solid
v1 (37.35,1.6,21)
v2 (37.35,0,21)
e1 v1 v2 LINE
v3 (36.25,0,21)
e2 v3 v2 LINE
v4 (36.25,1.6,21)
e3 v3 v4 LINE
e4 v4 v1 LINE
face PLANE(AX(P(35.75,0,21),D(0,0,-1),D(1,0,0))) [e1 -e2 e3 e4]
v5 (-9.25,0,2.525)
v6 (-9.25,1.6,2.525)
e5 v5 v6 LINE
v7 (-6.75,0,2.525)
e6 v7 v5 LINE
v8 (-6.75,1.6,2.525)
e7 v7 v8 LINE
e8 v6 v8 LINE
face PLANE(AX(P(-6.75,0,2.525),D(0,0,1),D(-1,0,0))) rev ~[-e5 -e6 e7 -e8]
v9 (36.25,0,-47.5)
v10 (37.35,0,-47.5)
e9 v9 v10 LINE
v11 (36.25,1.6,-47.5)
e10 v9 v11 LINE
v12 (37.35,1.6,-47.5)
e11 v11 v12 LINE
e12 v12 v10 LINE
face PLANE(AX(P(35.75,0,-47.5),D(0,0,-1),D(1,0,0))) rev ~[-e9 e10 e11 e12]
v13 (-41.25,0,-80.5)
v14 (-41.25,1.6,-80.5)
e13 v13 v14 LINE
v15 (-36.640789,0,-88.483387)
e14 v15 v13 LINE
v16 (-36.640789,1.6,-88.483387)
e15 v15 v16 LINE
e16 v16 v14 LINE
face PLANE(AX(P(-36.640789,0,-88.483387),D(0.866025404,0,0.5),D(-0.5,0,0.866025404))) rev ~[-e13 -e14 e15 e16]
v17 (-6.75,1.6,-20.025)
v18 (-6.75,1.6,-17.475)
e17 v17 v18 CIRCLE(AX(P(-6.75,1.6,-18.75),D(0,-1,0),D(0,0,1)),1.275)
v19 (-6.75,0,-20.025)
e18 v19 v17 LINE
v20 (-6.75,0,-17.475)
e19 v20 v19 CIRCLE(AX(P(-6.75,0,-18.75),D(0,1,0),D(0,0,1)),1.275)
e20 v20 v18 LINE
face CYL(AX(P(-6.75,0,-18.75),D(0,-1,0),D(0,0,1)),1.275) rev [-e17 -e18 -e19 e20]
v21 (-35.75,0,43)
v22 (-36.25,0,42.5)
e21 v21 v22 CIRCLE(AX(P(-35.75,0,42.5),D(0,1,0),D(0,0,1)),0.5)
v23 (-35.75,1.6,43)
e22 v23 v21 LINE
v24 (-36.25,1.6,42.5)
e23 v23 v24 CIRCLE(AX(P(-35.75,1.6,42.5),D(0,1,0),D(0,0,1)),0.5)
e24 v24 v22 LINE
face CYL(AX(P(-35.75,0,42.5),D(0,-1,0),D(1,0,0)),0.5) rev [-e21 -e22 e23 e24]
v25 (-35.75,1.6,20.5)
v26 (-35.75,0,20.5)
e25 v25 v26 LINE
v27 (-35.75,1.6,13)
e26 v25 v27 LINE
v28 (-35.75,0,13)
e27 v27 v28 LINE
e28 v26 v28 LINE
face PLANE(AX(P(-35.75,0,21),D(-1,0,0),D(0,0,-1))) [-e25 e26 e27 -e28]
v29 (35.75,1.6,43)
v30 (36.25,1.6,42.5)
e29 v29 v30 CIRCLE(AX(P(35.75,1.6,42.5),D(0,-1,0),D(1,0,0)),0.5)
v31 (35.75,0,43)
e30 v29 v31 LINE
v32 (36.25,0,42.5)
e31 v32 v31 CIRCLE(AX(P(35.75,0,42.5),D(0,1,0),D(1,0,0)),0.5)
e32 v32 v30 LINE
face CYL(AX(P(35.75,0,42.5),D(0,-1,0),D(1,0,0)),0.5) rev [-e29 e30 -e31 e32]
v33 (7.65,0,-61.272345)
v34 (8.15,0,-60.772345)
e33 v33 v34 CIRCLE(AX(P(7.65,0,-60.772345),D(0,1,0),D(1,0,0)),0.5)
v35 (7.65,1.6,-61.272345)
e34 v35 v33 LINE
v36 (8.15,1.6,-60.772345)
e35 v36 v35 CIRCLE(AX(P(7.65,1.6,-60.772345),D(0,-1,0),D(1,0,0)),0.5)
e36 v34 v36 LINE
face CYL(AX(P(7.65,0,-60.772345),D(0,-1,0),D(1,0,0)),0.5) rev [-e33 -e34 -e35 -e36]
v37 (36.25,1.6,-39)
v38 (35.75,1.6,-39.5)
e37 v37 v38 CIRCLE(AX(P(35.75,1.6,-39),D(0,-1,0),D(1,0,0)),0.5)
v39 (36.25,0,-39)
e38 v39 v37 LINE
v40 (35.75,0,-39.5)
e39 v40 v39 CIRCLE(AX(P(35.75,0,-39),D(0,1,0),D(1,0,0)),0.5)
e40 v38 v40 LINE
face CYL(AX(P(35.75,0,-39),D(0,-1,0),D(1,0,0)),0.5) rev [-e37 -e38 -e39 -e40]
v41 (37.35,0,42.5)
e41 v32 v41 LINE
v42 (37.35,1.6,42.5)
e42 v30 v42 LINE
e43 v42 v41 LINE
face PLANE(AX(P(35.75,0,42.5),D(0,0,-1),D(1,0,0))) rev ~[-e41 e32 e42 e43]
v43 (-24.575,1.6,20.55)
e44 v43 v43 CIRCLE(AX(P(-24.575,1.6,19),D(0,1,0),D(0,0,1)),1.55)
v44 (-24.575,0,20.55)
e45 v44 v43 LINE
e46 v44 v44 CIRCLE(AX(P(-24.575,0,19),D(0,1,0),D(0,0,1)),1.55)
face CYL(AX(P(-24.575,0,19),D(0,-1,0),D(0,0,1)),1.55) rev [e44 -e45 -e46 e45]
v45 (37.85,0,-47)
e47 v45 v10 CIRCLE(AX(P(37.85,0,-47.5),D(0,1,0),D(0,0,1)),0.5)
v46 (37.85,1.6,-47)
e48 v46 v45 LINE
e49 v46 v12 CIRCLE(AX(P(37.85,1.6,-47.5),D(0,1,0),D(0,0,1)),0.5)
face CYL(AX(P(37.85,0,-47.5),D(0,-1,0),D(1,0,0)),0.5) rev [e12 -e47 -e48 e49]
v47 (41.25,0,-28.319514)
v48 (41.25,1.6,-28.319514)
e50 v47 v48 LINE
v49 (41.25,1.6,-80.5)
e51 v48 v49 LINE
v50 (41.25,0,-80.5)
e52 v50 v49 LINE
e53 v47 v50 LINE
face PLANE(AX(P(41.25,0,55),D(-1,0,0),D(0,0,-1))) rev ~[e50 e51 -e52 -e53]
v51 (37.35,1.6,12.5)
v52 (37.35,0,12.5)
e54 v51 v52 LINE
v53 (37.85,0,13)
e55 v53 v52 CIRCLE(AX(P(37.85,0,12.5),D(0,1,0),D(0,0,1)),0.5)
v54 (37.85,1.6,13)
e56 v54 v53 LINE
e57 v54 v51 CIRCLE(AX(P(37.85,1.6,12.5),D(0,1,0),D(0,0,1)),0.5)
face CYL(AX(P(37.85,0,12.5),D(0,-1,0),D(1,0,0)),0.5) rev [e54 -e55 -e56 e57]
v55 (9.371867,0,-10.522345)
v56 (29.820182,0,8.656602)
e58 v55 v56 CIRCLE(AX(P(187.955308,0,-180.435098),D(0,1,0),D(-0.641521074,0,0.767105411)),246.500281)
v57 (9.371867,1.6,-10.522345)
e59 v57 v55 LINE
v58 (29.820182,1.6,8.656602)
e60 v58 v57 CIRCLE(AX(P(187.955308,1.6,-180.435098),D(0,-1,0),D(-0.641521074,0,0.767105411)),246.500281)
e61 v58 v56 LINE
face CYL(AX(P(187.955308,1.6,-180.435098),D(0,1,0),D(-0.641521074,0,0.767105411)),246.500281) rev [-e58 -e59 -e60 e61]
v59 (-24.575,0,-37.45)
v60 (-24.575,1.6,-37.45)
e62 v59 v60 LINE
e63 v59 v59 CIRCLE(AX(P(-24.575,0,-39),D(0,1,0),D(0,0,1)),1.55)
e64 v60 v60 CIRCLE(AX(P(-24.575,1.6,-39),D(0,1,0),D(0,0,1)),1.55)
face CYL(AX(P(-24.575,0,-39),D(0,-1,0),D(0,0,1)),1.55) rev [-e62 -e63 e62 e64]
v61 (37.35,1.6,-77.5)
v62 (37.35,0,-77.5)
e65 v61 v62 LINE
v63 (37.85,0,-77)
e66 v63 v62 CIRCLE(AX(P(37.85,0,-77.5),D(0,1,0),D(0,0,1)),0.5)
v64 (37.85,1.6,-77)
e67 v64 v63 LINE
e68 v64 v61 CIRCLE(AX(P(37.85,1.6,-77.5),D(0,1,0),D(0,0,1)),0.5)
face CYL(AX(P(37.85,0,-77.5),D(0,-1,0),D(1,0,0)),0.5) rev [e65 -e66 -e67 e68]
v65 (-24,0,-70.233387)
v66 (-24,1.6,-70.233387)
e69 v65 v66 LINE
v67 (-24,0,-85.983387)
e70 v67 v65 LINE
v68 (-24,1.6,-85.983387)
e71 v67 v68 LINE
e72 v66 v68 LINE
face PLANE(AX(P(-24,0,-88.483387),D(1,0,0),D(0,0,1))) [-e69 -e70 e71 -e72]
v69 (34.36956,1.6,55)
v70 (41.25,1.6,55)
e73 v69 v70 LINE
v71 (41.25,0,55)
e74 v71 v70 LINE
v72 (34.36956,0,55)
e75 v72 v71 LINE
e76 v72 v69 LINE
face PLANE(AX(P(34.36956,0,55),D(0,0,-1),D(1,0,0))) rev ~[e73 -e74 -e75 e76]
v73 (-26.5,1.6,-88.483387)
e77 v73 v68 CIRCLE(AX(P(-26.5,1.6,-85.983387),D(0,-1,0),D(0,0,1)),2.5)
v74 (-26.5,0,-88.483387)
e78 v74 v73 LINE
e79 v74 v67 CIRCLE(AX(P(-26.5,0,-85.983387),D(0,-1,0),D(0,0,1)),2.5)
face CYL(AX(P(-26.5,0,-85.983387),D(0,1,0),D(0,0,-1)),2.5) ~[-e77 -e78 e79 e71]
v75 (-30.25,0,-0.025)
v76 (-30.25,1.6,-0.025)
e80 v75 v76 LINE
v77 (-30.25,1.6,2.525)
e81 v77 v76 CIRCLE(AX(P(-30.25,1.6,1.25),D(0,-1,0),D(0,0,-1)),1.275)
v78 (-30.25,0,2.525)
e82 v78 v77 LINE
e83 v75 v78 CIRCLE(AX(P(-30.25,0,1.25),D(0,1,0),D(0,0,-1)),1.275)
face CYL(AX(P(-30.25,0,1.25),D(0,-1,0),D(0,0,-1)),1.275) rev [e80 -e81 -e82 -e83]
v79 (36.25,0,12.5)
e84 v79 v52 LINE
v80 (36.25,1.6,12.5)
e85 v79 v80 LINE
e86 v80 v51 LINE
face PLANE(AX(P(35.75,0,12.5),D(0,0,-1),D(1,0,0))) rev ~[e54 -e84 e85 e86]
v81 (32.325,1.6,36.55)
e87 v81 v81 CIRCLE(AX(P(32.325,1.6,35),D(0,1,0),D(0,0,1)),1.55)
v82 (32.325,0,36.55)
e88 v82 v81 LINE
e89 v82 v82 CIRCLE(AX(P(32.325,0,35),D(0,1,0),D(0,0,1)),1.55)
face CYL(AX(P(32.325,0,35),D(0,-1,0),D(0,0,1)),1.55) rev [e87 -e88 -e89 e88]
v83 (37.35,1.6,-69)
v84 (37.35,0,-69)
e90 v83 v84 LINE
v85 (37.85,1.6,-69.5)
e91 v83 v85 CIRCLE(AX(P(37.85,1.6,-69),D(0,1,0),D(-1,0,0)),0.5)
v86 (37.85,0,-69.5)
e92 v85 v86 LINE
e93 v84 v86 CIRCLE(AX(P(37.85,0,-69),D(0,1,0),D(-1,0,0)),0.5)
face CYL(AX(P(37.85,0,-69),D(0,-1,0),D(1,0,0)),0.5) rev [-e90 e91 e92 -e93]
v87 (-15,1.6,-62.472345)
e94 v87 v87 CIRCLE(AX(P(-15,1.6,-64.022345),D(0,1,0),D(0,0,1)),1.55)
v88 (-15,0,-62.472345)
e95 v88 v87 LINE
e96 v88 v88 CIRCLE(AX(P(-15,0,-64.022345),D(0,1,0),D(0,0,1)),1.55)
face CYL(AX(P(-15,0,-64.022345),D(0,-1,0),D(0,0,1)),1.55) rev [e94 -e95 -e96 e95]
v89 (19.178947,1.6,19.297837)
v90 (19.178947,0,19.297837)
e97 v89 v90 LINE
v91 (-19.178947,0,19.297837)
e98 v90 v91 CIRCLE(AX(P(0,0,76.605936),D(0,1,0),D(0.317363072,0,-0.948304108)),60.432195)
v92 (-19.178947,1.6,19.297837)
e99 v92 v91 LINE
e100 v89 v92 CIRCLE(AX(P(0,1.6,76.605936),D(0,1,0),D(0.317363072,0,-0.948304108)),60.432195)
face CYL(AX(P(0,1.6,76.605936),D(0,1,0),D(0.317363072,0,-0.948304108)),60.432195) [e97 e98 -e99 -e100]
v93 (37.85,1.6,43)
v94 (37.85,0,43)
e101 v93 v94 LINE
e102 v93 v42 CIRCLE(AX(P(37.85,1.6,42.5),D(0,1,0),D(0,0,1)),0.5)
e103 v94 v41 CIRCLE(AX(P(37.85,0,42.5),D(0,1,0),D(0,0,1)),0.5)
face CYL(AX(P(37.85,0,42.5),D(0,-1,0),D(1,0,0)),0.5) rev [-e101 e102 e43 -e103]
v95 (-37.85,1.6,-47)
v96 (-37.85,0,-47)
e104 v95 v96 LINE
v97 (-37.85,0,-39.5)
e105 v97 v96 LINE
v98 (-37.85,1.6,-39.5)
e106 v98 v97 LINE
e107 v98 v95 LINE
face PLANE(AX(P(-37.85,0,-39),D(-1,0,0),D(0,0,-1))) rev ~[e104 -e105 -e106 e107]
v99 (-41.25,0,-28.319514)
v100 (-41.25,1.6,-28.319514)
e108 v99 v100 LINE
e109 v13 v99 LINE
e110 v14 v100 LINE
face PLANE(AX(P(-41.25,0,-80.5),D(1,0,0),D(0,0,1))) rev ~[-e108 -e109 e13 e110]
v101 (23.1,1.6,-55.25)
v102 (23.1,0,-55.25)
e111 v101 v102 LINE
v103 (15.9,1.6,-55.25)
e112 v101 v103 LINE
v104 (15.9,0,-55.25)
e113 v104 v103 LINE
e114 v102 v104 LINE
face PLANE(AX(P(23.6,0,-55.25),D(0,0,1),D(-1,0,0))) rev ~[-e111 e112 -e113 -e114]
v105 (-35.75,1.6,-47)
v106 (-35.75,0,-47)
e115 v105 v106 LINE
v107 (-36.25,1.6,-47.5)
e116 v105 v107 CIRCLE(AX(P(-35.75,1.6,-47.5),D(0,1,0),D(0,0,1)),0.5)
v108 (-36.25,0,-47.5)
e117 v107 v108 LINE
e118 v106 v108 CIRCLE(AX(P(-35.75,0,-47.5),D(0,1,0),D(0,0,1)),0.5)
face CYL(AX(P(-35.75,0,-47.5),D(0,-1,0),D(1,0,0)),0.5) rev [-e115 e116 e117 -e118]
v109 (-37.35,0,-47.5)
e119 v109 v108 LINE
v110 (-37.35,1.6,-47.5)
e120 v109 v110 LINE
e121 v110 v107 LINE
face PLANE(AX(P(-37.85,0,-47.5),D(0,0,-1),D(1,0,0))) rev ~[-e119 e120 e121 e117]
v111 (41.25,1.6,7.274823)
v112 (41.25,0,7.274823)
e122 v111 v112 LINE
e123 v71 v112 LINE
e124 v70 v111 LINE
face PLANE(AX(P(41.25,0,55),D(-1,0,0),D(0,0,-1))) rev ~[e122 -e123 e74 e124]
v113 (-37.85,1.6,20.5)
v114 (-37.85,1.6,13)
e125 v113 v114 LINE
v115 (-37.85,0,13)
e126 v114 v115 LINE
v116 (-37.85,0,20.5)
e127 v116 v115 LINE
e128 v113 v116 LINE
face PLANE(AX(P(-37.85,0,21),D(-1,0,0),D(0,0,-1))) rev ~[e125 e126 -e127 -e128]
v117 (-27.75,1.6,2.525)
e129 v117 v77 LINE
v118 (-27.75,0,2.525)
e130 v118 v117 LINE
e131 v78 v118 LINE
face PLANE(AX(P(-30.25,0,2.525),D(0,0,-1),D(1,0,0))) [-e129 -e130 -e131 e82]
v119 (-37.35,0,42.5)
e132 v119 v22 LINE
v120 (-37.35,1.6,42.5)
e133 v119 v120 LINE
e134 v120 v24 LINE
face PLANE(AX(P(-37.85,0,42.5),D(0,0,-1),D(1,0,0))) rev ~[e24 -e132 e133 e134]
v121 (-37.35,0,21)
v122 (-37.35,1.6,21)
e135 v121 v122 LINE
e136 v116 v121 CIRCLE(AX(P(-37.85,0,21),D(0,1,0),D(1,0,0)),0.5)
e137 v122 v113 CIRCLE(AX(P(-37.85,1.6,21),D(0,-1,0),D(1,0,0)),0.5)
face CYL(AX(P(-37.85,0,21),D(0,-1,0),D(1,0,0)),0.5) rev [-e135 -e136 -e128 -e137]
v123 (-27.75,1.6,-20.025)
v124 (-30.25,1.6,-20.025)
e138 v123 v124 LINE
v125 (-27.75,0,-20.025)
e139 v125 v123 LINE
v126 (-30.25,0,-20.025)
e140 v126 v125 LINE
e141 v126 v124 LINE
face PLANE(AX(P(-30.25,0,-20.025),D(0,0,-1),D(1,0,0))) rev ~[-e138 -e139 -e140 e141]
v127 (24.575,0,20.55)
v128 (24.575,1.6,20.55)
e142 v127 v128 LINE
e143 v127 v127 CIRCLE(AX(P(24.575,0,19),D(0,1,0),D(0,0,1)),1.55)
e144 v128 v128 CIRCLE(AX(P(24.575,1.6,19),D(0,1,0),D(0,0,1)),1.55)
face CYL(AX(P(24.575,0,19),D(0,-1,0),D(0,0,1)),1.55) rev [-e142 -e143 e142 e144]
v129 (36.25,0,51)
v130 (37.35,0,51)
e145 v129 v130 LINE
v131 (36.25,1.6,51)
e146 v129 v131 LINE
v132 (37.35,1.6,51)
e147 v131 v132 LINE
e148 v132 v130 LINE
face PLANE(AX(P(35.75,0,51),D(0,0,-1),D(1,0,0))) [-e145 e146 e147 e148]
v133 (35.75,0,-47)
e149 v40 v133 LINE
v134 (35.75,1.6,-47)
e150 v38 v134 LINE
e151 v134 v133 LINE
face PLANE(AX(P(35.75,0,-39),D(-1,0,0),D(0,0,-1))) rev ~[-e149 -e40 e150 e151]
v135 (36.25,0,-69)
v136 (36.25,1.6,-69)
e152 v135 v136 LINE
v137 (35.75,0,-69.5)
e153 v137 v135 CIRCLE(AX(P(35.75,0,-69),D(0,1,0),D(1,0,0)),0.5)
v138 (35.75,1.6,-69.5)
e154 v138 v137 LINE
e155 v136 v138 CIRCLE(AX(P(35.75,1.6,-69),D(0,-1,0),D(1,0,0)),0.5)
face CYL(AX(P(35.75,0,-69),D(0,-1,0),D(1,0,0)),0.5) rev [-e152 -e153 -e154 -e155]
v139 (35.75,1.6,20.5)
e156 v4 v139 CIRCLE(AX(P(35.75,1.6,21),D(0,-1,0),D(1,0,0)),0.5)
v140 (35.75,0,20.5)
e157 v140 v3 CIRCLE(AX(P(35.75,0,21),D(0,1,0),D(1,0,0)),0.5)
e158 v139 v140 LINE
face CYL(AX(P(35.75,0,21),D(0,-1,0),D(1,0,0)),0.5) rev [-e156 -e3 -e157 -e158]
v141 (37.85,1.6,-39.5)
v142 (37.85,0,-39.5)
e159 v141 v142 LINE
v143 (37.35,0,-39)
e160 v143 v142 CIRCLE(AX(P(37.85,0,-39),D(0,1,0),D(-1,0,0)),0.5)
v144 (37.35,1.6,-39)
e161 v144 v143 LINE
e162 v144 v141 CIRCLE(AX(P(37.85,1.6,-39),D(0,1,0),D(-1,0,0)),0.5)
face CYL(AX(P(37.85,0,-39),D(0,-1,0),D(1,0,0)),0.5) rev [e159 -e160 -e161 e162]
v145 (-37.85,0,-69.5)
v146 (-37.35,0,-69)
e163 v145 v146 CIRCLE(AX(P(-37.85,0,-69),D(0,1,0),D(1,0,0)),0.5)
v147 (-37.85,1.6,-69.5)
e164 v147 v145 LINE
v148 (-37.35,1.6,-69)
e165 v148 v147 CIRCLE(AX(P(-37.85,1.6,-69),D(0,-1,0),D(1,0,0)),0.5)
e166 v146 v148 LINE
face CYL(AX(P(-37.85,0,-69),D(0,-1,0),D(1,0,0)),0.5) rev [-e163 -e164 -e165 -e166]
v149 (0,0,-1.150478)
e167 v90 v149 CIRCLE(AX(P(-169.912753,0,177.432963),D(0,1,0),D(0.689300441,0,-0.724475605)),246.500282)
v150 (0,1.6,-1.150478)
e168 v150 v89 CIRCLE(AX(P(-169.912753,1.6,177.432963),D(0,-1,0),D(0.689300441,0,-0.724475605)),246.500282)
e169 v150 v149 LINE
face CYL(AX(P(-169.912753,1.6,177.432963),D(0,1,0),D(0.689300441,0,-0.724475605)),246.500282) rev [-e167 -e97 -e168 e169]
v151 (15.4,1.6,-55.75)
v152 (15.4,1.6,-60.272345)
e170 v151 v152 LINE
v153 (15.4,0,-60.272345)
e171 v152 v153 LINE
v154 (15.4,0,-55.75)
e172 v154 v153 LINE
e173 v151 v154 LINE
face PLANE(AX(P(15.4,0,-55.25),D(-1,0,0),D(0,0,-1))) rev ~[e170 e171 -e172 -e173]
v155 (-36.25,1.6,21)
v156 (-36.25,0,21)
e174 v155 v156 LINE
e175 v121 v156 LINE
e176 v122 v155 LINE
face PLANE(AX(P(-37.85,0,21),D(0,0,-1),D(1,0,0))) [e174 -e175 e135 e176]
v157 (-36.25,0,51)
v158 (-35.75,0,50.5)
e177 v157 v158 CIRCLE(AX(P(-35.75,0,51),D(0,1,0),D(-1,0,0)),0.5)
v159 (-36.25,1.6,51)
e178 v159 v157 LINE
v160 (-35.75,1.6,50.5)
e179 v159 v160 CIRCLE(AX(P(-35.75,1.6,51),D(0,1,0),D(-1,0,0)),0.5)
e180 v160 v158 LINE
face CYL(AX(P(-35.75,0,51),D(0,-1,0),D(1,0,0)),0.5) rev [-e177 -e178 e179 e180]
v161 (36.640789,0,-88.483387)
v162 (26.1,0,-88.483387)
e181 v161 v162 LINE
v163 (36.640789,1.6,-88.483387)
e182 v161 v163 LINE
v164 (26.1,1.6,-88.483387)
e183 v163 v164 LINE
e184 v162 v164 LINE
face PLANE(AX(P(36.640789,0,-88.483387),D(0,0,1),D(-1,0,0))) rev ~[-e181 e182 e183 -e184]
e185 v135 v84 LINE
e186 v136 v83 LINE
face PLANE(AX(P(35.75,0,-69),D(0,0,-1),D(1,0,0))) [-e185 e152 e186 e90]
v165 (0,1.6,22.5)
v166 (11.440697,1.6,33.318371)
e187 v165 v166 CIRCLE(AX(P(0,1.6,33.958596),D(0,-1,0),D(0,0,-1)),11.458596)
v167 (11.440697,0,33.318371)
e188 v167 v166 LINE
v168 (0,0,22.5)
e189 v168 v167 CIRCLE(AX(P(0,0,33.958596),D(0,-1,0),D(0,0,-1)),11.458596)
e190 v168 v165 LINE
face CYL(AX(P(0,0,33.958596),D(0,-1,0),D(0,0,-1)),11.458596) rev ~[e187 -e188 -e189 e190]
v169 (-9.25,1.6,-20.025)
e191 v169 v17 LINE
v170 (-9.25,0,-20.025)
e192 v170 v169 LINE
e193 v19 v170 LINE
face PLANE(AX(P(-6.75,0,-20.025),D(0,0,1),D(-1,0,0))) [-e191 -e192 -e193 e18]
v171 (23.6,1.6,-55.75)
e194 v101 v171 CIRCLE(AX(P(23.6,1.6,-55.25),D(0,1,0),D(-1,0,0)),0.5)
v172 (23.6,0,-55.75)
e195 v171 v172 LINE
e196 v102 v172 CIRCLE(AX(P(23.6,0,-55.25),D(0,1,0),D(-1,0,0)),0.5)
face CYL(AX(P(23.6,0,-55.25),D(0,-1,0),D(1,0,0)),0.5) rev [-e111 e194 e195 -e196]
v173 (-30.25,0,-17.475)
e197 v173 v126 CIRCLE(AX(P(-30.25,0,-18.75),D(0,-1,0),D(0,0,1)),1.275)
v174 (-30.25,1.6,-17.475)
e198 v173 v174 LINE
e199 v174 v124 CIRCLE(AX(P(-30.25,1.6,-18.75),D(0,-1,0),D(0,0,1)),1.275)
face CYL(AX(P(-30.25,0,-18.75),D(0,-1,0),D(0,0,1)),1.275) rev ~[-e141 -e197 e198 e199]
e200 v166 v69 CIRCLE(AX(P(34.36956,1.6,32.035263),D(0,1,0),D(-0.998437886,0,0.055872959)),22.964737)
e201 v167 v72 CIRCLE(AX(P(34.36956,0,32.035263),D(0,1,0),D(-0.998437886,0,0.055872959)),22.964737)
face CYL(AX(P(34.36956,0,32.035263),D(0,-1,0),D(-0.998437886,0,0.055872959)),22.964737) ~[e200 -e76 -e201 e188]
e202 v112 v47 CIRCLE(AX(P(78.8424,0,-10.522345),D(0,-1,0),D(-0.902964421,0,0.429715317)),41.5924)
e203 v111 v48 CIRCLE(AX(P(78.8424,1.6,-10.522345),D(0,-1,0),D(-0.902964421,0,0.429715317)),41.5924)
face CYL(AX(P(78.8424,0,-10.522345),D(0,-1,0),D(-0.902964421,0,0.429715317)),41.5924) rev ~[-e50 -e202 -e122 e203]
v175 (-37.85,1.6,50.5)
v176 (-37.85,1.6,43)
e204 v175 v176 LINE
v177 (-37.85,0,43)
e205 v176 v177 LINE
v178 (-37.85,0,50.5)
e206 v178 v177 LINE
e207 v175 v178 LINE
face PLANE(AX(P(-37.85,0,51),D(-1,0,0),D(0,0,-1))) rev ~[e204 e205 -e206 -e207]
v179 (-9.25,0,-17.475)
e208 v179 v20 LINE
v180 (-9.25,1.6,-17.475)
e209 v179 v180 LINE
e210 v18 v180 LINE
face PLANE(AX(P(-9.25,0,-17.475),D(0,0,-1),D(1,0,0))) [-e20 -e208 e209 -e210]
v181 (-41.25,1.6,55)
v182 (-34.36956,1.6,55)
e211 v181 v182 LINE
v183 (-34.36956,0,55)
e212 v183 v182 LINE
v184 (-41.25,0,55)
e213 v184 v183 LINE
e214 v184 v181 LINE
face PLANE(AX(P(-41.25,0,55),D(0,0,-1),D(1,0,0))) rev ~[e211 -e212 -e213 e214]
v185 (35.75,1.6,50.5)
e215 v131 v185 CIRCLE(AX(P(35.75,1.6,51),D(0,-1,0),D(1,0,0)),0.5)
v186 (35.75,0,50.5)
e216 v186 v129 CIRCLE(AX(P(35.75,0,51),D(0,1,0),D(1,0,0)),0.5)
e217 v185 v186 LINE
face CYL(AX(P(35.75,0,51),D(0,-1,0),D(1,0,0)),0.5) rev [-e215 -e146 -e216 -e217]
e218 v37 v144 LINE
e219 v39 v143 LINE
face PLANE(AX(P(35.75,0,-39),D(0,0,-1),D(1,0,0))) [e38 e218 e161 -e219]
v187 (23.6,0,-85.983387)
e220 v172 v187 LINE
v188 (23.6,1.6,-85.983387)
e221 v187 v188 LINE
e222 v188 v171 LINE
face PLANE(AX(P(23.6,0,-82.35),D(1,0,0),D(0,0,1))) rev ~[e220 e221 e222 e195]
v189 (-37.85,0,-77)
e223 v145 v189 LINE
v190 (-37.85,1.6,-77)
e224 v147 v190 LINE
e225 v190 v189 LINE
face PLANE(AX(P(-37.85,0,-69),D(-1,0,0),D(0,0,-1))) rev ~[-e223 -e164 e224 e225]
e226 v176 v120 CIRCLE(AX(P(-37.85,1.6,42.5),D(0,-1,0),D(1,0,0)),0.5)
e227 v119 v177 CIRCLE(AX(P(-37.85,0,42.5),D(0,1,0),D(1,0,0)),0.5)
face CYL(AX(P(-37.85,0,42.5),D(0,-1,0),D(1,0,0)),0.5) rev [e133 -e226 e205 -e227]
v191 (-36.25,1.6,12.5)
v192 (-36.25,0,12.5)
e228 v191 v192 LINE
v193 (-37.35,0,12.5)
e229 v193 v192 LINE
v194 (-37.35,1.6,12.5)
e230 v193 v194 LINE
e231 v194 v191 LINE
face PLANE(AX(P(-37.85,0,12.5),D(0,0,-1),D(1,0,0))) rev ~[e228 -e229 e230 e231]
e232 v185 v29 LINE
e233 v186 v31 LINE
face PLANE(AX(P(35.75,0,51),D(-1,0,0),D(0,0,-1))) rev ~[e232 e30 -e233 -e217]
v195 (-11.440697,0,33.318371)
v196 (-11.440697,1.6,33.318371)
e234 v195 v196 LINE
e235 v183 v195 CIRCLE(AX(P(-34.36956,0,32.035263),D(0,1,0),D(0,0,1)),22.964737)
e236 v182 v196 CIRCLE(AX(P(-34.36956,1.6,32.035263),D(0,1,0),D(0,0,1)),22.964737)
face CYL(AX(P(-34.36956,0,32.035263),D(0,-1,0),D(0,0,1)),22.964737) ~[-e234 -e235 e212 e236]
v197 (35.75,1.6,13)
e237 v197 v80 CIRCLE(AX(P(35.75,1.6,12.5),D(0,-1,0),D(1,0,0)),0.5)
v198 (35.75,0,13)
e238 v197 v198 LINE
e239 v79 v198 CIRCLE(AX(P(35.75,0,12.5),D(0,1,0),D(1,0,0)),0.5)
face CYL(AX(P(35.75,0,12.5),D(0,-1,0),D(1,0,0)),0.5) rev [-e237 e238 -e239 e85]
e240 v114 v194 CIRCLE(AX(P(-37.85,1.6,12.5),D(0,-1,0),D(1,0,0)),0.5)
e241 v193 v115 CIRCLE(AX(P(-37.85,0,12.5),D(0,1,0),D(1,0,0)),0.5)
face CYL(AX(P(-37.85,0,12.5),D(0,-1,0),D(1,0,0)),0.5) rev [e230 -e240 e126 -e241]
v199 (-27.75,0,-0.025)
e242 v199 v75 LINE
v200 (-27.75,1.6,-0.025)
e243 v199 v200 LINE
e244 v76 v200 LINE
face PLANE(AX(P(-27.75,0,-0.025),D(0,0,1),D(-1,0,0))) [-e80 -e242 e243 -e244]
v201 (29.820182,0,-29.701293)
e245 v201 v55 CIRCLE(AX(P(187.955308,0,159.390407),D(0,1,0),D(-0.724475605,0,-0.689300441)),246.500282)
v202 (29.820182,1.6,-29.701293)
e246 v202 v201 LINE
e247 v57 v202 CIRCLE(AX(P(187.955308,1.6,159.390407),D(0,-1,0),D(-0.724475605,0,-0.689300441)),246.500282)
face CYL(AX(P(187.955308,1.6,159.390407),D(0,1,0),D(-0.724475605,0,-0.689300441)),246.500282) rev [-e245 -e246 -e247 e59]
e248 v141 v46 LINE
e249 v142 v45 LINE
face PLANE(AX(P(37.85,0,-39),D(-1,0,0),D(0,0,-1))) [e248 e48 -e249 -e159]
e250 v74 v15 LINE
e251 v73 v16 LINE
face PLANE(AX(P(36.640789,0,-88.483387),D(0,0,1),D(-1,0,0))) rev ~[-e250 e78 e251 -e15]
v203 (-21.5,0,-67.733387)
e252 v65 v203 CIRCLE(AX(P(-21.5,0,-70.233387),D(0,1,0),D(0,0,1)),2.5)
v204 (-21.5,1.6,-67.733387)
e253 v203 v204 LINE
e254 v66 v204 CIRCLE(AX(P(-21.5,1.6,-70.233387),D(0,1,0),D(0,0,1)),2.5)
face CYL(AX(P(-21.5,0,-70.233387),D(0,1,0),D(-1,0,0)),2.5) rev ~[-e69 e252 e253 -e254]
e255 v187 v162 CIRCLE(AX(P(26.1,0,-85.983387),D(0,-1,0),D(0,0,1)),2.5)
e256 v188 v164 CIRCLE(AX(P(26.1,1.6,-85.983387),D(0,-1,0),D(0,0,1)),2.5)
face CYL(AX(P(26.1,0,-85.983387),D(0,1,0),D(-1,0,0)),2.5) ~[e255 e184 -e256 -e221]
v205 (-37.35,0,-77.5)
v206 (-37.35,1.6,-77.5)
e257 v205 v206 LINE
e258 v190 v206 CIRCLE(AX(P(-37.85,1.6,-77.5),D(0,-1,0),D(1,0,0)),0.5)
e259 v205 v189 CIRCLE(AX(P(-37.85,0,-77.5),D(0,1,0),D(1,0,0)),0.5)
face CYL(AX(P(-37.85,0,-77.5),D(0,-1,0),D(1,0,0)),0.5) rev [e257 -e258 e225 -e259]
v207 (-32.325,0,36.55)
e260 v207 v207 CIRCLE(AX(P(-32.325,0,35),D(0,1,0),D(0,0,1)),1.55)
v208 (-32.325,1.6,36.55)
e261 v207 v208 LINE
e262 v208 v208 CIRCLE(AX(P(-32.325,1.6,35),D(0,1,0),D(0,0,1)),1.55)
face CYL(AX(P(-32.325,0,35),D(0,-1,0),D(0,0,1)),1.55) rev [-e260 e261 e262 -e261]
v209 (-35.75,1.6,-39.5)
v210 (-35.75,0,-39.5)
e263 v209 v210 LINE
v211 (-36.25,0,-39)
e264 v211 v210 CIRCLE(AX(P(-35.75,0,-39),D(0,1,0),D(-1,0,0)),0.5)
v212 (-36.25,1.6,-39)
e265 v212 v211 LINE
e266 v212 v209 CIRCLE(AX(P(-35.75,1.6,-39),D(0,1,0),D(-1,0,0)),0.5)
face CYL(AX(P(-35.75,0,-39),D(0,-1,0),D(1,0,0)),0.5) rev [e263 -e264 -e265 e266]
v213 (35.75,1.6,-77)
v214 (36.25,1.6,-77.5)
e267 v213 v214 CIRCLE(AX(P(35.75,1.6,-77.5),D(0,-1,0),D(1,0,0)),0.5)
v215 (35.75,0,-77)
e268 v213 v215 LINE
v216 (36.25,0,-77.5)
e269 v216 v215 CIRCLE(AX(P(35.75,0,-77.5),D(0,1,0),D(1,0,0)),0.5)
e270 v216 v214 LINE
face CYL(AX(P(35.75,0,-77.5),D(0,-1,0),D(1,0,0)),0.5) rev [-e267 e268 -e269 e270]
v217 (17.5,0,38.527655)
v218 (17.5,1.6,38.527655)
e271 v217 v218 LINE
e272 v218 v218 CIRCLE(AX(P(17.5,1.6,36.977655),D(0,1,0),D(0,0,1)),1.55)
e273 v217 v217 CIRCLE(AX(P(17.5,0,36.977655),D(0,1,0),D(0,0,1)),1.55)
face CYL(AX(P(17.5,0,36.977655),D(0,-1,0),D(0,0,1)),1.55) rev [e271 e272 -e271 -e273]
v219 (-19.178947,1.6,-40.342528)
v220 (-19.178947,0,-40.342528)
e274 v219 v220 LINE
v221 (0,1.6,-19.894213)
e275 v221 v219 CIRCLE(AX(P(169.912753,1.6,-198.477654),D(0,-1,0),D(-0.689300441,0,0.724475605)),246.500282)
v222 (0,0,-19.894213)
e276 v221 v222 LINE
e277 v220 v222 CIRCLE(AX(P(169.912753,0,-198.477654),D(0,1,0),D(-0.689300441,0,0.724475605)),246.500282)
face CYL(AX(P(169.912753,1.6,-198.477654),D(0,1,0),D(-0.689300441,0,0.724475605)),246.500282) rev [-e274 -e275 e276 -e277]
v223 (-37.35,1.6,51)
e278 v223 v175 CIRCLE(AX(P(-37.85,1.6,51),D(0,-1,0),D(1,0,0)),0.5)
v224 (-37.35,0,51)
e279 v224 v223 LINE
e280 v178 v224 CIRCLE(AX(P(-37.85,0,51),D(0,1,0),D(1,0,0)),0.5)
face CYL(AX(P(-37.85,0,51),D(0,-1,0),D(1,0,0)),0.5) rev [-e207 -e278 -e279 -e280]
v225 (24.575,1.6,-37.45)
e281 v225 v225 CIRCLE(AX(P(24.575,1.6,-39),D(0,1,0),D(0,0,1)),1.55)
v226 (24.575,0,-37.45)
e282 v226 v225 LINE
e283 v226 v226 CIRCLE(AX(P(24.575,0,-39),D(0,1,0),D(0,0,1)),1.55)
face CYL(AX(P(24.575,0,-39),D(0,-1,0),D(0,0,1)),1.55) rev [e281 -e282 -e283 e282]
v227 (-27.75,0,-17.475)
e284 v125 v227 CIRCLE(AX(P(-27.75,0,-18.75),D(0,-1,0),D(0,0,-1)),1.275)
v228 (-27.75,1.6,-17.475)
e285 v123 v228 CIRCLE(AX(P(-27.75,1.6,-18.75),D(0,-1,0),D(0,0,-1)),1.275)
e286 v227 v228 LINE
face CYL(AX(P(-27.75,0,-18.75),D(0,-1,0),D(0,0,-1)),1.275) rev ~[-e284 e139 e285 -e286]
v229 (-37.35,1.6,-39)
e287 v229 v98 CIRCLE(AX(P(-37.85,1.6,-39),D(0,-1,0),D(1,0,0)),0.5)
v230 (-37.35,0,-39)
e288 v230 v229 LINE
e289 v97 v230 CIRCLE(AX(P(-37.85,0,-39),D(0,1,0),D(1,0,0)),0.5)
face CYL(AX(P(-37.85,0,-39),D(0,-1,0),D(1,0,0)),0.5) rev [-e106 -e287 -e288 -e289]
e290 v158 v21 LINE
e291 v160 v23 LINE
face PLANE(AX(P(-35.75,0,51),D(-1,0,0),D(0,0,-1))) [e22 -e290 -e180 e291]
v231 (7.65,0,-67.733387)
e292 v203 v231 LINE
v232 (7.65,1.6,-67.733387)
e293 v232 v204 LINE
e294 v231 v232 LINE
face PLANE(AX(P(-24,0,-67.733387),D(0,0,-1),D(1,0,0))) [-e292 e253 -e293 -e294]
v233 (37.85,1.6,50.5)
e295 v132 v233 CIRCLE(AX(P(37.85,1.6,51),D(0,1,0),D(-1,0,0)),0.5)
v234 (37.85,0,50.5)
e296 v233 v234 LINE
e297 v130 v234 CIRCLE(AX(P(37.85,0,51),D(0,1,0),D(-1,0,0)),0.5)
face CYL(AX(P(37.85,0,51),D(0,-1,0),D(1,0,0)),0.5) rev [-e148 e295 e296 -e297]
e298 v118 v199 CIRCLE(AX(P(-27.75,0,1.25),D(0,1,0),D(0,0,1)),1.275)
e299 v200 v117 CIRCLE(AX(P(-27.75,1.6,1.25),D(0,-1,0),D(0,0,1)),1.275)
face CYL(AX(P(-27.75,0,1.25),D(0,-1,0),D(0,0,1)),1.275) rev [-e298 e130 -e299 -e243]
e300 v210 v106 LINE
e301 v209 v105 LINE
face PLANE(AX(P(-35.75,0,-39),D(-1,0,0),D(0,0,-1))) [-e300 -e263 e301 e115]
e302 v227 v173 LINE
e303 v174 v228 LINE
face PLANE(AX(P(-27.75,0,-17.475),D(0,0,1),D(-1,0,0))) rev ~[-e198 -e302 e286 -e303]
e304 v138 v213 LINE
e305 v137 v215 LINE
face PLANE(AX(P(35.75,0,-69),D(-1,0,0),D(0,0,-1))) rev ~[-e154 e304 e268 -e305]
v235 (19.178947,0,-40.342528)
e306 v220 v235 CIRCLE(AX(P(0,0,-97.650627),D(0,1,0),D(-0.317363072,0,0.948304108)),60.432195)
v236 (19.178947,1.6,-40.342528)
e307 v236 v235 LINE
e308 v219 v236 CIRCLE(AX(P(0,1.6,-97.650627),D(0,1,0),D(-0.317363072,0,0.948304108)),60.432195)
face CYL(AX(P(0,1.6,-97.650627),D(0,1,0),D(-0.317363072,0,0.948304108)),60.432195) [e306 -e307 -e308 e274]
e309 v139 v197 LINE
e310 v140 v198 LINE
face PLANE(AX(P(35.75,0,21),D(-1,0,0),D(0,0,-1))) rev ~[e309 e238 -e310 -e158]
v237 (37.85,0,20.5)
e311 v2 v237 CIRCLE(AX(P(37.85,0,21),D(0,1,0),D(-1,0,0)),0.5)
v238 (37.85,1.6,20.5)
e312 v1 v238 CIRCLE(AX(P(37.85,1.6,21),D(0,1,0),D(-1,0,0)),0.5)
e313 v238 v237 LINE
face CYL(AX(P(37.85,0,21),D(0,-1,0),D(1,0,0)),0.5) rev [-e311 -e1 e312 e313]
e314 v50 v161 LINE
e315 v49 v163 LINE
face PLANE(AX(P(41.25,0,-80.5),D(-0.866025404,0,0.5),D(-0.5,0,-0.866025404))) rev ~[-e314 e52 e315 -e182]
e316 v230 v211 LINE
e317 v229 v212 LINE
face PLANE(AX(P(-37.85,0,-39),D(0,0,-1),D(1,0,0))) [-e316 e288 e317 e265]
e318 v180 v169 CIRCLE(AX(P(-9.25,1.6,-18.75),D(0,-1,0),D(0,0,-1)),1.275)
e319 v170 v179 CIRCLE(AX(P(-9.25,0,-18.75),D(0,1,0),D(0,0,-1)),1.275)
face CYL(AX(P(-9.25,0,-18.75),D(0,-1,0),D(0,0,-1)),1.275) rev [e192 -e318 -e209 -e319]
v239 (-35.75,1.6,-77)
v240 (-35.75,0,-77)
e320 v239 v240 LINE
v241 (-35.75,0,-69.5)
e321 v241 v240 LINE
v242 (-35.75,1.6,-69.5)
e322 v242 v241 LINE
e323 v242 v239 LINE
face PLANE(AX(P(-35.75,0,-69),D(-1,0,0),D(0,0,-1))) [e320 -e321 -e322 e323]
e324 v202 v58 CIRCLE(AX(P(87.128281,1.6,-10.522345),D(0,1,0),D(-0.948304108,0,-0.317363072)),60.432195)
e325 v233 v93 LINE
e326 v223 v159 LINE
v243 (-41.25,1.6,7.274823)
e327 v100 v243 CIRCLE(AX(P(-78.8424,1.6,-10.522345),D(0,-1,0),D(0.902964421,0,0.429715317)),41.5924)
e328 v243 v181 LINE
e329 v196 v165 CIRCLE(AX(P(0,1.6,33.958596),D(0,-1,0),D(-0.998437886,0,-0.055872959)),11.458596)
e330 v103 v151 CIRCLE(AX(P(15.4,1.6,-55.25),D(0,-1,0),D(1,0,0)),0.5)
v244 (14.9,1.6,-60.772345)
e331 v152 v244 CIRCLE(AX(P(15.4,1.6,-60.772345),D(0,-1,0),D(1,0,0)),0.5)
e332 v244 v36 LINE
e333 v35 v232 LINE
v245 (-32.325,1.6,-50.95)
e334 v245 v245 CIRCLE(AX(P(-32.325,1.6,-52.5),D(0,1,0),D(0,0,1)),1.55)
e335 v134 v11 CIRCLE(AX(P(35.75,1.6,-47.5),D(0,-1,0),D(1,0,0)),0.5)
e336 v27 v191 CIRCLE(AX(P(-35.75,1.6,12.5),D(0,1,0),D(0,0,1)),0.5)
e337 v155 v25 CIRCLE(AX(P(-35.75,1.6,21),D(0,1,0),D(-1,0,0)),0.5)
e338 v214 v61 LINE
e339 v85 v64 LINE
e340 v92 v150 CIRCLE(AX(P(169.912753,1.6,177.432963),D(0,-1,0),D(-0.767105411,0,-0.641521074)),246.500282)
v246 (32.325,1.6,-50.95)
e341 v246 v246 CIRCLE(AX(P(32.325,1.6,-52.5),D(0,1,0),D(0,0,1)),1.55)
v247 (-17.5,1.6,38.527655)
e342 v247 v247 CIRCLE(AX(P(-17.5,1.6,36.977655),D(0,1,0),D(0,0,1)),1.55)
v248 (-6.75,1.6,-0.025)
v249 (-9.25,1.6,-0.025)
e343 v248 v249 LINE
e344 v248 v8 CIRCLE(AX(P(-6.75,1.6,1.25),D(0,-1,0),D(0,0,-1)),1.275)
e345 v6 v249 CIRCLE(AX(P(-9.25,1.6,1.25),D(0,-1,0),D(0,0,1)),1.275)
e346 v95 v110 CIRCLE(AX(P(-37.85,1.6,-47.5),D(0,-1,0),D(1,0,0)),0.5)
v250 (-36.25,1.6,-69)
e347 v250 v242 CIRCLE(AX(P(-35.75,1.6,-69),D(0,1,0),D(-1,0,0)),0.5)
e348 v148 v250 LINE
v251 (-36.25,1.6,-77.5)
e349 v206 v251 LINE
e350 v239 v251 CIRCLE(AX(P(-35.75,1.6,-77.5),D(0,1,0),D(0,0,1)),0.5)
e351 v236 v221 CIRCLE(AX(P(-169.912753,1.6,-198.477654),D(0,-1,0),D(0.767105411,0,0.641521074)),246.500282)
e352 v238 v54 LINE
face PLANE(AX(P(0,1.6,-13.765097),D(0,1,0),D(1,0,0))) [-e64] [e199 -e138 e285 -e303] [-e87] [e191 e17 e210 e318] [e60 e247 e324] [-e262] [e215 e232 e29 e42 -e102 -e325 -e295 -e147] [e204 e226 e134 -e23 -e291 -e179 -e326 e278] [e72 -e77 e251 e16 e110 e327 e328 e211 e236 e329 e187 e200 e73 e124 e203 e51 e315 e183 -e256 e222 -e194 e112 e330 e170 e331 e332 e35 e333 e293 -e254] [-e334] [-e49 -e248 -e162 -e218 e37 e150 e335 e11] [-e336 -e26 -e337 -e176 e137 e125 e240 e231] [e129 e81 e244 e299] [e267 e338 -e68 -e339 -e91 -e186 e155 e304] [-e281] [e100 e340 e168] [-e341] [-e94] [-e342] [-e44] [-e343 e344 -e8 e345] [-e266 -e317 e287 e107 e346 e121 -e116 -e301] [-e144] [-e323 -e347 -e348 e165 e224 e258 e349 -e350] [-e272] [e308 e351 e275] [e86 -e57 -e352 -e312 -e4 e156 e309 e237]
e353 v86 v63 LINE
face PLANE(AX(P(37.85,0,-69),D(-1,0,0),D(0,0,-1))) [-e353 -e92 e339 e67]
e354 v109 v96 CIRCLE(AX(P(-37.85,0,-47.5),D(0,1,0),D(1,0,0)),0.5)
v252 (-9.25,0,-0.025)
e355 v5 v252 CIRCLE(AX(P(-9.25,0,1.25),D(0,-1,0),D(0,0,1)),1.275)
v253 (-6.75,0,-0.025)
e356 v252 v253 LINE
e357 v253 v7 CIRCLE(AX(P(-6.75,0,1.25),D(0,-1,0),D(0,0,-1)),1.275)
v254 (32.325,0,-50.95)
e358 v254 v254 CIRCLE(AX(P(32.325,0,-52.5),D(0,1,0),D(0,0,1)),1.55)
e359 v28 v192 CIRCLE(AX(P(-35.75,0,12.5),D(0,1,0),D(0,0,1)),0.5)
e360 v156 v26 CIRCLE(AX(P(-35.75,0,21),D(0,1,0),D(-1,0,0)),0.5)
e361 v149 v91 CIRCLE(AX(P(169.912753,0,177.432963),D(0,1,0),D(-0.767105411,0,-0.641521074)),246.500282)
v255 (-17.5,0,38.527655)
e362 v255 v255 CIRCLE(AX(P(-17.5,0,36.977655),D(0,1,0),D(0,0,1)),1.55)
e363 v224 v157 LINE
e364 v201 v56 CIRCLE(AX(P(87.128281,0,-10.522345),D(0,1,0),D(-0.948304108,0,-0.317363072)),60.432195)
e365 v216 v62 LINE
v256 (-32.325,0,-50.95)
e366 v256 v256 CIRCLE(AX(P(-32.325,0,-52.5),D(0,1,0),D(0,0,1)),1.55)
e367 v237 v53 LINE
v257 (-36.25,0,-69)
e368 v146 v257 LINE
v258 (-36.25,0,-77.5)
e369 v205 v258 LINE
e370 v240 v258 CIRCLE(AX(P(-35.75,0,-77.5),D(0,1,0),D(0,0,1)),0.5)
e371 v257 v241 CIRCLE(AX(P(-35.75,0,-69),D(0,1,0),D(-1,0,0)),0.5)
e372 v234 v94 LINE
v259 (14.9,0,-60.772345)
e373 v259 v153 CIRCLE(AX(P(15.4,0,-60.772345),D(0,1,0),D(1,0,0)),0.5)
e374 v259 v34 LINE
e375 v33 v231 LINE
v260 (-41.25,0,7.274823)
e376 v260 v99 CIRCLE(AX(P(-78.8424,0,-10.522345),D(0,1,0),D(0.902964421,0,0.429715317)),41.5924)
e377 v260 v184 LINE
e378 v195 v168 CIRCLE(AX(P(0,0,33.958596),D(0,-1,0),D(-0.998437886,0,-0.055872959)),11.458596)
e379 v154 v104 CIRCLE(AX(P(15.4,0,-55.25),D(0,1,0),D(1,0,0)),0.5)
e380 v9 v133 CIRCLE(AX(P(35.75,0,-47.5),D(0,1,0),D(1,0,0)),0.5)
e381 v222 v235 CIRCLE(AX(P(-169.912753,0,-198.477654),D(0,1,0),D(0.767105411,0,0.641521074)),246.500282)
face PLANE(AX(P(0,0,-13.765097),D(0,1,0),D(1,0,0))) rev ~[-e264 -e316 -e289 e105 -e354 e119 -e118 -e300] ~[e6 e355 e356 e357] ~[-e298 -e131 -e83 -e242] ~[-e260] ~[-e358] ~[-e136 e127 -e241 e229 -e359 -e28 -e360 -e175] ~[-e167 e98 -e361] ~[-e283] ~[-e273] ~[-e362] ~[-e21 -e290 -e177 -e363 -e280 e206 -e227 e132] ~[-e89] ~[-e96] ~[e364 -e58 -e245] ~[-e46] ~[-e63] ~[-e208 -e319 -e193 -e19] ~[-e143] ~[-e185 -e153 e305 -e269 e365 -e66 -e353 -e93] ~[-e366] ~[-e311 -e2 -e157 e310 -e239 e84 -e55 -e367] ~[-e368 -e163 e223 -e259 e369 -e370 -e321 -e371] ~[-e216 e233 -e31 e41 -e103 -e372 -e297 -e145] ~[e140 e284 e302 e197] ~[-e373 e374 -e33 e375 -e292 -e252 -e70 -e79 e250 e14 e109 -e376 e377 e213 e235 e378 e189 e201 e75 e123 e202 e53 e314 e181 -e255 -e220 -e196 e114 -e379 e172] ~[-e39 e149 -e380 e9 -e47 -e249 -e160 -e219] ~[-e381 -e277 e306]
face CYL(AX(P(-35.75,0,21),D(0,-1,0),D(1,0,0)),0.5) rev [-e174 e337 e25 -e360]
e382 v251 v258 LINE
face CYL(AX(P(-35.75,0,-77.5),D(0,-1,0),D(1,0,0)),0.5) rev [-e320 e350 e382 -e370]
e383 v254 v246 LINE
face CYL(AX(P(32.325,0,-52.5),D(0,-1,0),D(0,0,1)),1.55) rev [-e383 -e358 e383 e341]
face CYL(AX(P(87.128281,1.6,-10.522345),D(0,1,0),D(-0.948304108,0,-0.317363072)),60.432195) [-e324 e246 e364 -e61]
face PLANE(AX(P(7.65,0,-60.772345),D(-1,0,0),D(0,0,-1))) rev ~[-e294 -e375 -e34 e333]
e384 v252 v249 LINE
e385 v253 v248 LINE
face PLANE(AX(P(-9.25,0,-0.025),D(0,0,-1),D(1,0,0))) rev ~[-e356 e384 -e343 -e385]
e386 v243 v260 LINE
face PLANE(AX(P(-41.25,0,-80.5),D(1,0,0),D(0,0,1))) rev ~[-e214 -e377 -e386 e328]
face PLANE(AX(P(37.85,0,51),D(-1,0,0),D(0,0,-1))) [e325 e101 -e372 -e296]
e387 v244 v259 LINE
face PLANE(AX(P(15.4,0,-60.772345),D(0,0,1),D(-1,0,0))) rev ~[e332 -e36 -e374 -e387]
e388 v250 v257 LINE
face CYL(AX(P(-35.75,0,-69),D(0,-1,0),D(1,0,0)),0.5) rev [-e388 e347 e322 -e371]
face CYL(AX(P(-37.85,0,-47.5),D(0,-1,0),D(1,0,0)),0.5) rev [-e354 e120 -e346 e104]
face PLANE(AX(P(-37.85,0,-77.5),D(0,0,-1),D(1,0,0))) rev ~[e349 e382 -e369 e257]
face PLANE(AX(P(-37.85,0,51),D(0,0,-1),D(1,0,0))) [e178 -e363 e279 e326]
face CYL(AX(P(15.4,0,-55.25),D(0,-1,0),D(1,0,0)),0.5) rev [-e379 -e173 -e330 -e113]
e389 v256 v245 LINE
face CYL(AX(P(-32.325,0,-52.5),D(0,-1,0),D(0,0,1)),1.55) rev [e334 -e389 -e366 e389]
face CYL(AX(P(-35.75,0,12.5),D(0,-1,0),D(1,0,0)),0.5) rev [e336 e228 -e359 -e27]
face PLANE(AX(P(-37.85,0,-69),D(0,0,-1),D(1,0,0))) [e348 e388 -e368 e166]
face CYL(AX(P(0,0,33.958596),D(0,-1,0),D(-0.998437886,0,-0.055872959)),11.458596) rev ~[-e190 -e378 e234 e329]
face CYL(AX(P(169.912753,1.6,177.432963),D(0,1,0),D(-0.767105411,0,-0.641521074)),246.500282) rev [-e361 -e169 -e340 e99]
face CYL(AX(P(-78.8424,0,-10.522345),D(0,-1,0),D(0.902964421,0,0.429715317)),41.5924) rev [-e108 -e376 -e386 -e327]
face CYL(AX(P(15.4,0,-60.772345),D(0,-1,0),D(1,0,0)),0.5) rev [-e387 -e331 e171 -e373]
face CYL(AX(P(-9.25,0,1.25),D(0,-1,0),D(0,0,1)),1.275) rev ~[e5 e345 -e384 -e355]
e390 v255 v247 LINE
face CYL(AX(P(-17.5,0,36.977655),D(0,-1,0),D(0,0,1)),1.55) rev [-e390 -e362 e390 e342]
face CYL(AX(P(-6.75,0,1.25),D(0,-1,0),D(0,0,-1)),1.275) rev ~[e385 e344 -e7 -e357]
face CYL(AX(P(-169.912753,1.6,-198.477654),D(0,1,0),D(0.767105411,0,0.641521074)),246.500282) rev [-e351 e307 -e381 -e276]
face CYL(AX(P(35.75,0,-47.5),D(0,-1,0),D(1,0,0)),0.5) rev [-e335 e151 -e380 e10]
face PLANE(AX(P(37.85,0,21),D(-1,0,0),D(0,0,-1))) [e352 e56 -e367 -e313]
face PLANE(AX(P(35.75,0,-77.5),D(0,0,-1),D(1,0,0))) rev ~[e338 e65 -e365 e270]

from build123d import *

# Parameters (mm, degrees)
SKETCH1_W               = 2.1
SKETCH1_H               = 8.5
SKETCH1_R               = 1.55
EXTRUDE_8657_DEPTH      = 1.6
CUT_EXTRUDE_9042_DEPTH  = 98.639296877
CUT_EXTRUDE_9381_DEPTH  = 98.639296877
CUT_EXTRUDE_9654_DEPTH  = 10
FILLET_1_R              = 2.5
SKETCH_9947_R           = 0.5
CUT_EXTRUDE_10465_DEPTH = 98.639296877


with BuildPart() as part:
    # Sketch1 → Extrude 8657 (new body)
    with BuildSketch(Plane(origin=(0, 0, 0), x_dir=(1, 0, 0), z_dir=(0, 1, 0))):
        with BuildLine():
            Line((-41.25, 0), (-41.25, -55))
            Line((-41.25, -55), (-34.369560329, -55))
            ThreePointArc((-34.369560329, -55), (-18.59120626, -48.721265785), (-11.440696816, -33.31837076))
            ThreePointArc((-11.440696816, -33.31837076), (-7.872843983, -25.632867641), (0, -22.5))
            ThreePointArc((0, -22.5), (7.872843983, -25.632867641), (11.440696816, -33.31837076))
            ThreePointArc((11.440696816, -33.31837076), (18.59120626, -48.721265785), (34.369560329, -55))
            Line((34.369560329, -55), (41.25, -55))
            Line((41.25, -55), (41.25, 0))
            Line((41.25, 0), (41.25, 80.5))
            Line((41.25, 80.5), (36.640789302, 88.483387111))
            Line((36.640789302, 88.483387111), (-36.640789302, 88.483387111))
            Line((-36.640789302, 88.483387111), (-41.25, 80.5))
            Line((-41.25, 80.5), (-41.25, 0))
        make_face()
        with Locations((-36.8, -46.75)):
            Rectangle(SKETCH1_W, SKETCH1_H, mode=Mode.SUBTRACT)
        with Locations(Location((-32.325, -35, 0), (0, 0, 270))):
            Circle(SKETCH1_R, mode=Mode.SUBTRACT)
        with Locations(Location((-17.5, -36.97765453, 0), (0, 0, 270))):
            Circle(SKETCH1_R, mode=Mode.SUBTRACT)
        with Locations((-36.8, -16.75)):
            Rectangle(SKETCH1_W, SKETCH1_H, mode=Mode.SUBTRACT)
        with Locations(Location((-24.575, -19, 0), (0, 0, 270))):
            Circle(SKETCH1_R, mode=Mode.SUBTRACT)
        with Locations(Location((17.5, -36.97765453, 0), (0, 0, 270))):
            Circle(SKETCH1_R, mode=Mode.SUBTRACT)
        with Locations((36.8, -46.75)):
            Rectangle(SKETCH1_W, SKETCH1_H, mode=Mode.SUBTRACT)
        with Locations(Location((32.325, -35, 0), (0, 0, 270))):
            Circle(SKETCH1_R, mode=Mode.SUBTRACT)
        with Locations(Location((24.575, -19, 0), (0, 0, 270))):
            Circle(SKETCH1_R, mode=Mode.SUBTRACT)
        with Locations((36.8, -16.75)):
            Rectangle(SKETCH1_W, SKETCH1_H, mode=Mode.SUBTRACT)
        with Locations((-36.8, 43.25)):
            Rectangle(SKETCH1_W, SKETCH1_H, mode=Mode.SUBTRACT)
        with Locations(Location((-32.325, 52.5, 0), (0, 0, 270))):
            Circle(SKETCH1_R, mode=Mode.SUBTRACT)
        with Locations(Location((-24.575, 39, 0), (0, 0, 270))):
            Circle(SKETCH1_R, mode=Mode.SUBTRACT)
        with Locations((-36.8, 73.25)):
            Rectangle(SKETCH1_W, SKETCH1_H, mode=Mode.SUBTRACT)
        with Locations(Location((-15.000000144, 64.02234547, 0), (0, 0, 270))):
            Circle(SKETCH1_R, mode=Mode.SUBTRACT)
        with Locations(Location((24.575, 39, 0), (0, 0, 270))):
            Circle(SKETCH1_R, mode=Mode.SUBTRACT)
        with Locations((36.8, 43.25)):
            Rectangle(SKETCH1_W, SKETCH1_H, mode=Mode.SUBTRACT)
        with Locations(Location((32.325, 52.5, 0), (0, 0, 270))):
            Circle(SKETCH1_R, mode=Mode.SUBTRACT)
        Polygon((7.65, 60.772345), (7.65, 82.35), (23.6, 82.35), (23.6, 55.25), (15.4, 55.25), (15.4, 60.772345), align=None, mode=Mode.SUBTRACT)
        with Locations((36.8, 73.25)):
            Rectangle(SKETCH1_W, SKETCH1_H, mode=Mode.SUBTRACT)
    extrude(amount=EXTRUDE_8657_DEPTH)

    # 外部切除点示意-1 → Cut-Extrude 9042 (cut, through all)
    with BuildSketch(Plane(origin=(0, 0, 0), x_dir=(1, 0, 0), z_dir=(0, 1, 0))):
        with BuildLine():
            Line((-41.25, 28.319513771), (-41.285942601, -7.350545872))
            ThreePointArc((-41.285942601, -7.350545872), (-37.250021115, 10.480435299), (-41.25, 28.319513771))
        make_face()
        with BuildLine():
            Line((41.25, 28.319513771), (41.285942601, -7.350545872))
            ThreePointArc((41.285942601, -7.350545872), (37.250021115, 10.480435299), (41.25, 28.319513771))
        make_face()
        Polygon((5.1, 67.733387111), (7.65, 67.733387111), (7.65, 82.35), (23.6, 82.35), (23.6, 88.483387111), (5.1, 88.483387111), (-24, 88.483387111), (-24, 67.733387111), align=None)
    extrude(amount=CUT_EXTRUDE_9042_DEPTH, mode=Mode.SUBTRACT)

    # Sketch 9088 → Cut-Extrude 9381 (cut, through all)
    with BuildSketch(Plane(origin=(0, 0, 0), x_dir=(1, 0, 0), z_dir=(0, 1, 0))):
        with BuildLine():
            Line((-30.25, 20.025), (-27.75, 20.025))
            ThreePointArc((-27.75, 20.025), (-26.475, 18.75), (-27.75, 17.475))
            Line((-27.75, 17.475), (-30.25, 17.475))
            ThreePointArc((-30.25, 17.475), (-31.525, 18.75), (-30.25, 20.025))
        make_face()
        with BuildLine():
            Line((-6.75, 20.025), (-9.25, 20.025))
            ThreePointArc((-9.25, 20.025), (-10.525, 18.75), (-9.25, 17.475))
            Line((-9.25, 17.475), (-6.75, 17.475))
            ThreePointArc((-6.75, 17.475), (-5.475, 18.75), (-6.75, 20.025))
        make_face()
        with BuildLine():
            Line((-30.25, -2.525), (-27.75, -2.525))
            ThreePointArc((-27.75, -2.525), (-26.475, -1.25), (-27.75, 0.025))
            Line((-27.75, 0.025), (-30.25, 0.025))
            ThreePointArc((-30.25, 0.025), (-31.525, -1.25), (-30.25, -2.525))
        make_face()
        with BuildLine():
            Line((-6.75, -2.525), (-9.25, -2.525))
            ThreePointArc((-9.25, -2.525), (-10.525, -1.25), (-9.25, 0.025))
            Line((-9.25, 0.025), (-6.75, 0.025))
            ThreePointArc((-6.75, 0.025), (-5.475, -1.25), (-6.75, -2.525))
        make_face()
    extrude(amount=CUT_EXTRUDE_9381_DEPTH, mode=Mode.SUBTRACT)

    # 草图2 → Cut-Extrude 9654 (cut)
    with BuildSketch(Plane(origin=(0, 1.6, 0), x_dir=(1, 0, 0), z_dir=(0, 1, 0))):
        with BuildLine():
            ThreePointArc((9.371867176, 10.52234547), (19.323145451, 20.402758988), (29.820182402, 29.701292521))
            ThreePointArc((29.820182402, 29.701292521), (26.696086154, 10.52234547), (29.820182402, -8.65660158))
            ThreePointArc((29.820182402, -8.65660158), (19.323145451, 0.641931952), (9.371867176, 10.52234547))
        make_face()
        with BuildLine():
            ThreePointArc((0, 1.150478295), (9.880413518, -8.800799981), (19.178947051, -19.297836932))
            ThreePointArc((19.178947051, -19.297836932), (0, -16.173740684), (-19.178947051, -19.297836932))
            ThreePointArc((-19.178947051, -19.297836932), (-9.880413518, -8.800799981), (0, 1.150478295))
        make_face()
        with BuildLine():
            ThreePointArc((0, 19.894212646), (-9.880413518, 29.845490922), (-19.178947051, 40.342527872))
            ThreePointArc((-19.178947051, 40.342527872), (0, 37.218431624), (19.178947051, 40.342527872))
            ThreePointArc((19.178947051, 40.342527872), (9.880413518, 29.845490922), (0, 19.894212646))
        make_face()
    extrude(amount=-CUT_EXTRUDE_9654_DEPTH, mode=Mode.SUBTRACT)

    # 圆角1
    fillet_1_edges = [part.edges().sort_by_distance(p)[0] for p in [
        (23.6, 0.8, -88.483387111),
        (-24, 0.8, -88.483387111),
        (-24, 0.8, -67.733387111),
    ]]
    fillet(fillet_1_edges, radius=FILLET_1_R)

    # Sketch 9947 → Cut-Extrude 10465 (cut, through all)
    with BuildSketch(Plane(origin=(0, 0, 0), x_dir=(1, 0, 0), z_dir=(0, 1, 0))):
        with Locations((7.65, 60.772345)):
            Circle(SKETCH_9947_R)
        with Locations((15.4, 60.772345)):
            Circle(SKETCH_9947_R)
        with Locations((15.4, 55.25)):
            Circle(SKETCH_9947_R)
        with Locations((23.6, 55.25)):
            Circle(SKETCH_9947_R)
        with Locations((35.75, 69)):
            Circle(SKETCH_9947_R)
        with Locations((37.85, 69)):
            Circle(SKETCH_9947_R)
        with Locations((35.75, 77.5)):
            Circle(SKETCH_9947_R)
        with Locations((37.85, 77.5)):
            Circle(SKETCH_9947_R)
        with Locations((35.75, 47.5)):
            Circle(SKETCH_9947_R)
        with Locations((37.85, 47.5)):
            Circle(SKETCH_9947_R)
        with Locations((35.75, 39)):
            Circle(SKETCH_9947_R)
        with Locations((37.85, 39)):
            Circle(SKETCH_9947_R)
        with Locations((35.75, -12.5)):
            Circle(SKETCH_9947_R)
        with Locations((37.85, -12.5)):
            Circle(SKETCH_9947_R)
        with Locations((35.75, -21)):
            Circle(SKETCH_9947_R)
        with Locations((37.85, -21)):
            Circle(SKETCH_9947_R)
        with Locations((35.75, -42.5)):
            Circle(SKETCH_9947_R)
        with Locations((37.85, -42.5)):
            Circle(SKETCH_9947_R)
        with Locations((35.75, -51)):
            Circle(SKETCH_9947_R)
        with Locations((37.85, -51)):
            Circle(SKETCH_9947_R)
        with Locations((-37.85, -51)):
            Circle(SKETCH_9947_R)
        with Locations((-35.75, -51)):
            Circle(SKETCH_9947_R)
        with Locations((-37.85, -42.5)):
            Circle(SKETCH_9947_R)
        with Locations((-35.75, -42.5)):
            Circle(SKETCH_9947_R)
        with Locations((-37.85, -21)):
            Circle(SKETCH_9947_R)
        with Locations((-35.75, -21)):
            Circle(SKETCH_9947_R)
        with Locations((-37.85, -12.5)):
            Circle(SKETCH_9947_R)
        with Locations((-35.75, -12.5)):
            Circle(SKETCH_9947_R)
        with Locations((-37.85, 39)):
            Circle(SKETCH_9947_R)
        with Locations((-35.75, 39)):
            Circle(SKETCH_9947_R)
        with Locations((-37.85, 47.5)):
            Circle(SKETCH_9947_R)
        with Locations((-35.75, 47.5)):
            Circle(SKETCH_9947_R)
        with Locations((-37.85, 77.5)):
            Circle(SKETCH_9947_R)
        with Locations((-35.75, 77.5)):
            Circle(SKETCH_9947_R)
        with Locations((-37.85, 69)):
            Circle(SKETCH_9947_R)
        with Locations((-35.75, 69)):
            Circle(SKETCH_9947_R)
    extrude(amount=CUT_EXTRUDE_10465_DEPTH, mode=Mode.SUBTRACT)


solid = part.part
